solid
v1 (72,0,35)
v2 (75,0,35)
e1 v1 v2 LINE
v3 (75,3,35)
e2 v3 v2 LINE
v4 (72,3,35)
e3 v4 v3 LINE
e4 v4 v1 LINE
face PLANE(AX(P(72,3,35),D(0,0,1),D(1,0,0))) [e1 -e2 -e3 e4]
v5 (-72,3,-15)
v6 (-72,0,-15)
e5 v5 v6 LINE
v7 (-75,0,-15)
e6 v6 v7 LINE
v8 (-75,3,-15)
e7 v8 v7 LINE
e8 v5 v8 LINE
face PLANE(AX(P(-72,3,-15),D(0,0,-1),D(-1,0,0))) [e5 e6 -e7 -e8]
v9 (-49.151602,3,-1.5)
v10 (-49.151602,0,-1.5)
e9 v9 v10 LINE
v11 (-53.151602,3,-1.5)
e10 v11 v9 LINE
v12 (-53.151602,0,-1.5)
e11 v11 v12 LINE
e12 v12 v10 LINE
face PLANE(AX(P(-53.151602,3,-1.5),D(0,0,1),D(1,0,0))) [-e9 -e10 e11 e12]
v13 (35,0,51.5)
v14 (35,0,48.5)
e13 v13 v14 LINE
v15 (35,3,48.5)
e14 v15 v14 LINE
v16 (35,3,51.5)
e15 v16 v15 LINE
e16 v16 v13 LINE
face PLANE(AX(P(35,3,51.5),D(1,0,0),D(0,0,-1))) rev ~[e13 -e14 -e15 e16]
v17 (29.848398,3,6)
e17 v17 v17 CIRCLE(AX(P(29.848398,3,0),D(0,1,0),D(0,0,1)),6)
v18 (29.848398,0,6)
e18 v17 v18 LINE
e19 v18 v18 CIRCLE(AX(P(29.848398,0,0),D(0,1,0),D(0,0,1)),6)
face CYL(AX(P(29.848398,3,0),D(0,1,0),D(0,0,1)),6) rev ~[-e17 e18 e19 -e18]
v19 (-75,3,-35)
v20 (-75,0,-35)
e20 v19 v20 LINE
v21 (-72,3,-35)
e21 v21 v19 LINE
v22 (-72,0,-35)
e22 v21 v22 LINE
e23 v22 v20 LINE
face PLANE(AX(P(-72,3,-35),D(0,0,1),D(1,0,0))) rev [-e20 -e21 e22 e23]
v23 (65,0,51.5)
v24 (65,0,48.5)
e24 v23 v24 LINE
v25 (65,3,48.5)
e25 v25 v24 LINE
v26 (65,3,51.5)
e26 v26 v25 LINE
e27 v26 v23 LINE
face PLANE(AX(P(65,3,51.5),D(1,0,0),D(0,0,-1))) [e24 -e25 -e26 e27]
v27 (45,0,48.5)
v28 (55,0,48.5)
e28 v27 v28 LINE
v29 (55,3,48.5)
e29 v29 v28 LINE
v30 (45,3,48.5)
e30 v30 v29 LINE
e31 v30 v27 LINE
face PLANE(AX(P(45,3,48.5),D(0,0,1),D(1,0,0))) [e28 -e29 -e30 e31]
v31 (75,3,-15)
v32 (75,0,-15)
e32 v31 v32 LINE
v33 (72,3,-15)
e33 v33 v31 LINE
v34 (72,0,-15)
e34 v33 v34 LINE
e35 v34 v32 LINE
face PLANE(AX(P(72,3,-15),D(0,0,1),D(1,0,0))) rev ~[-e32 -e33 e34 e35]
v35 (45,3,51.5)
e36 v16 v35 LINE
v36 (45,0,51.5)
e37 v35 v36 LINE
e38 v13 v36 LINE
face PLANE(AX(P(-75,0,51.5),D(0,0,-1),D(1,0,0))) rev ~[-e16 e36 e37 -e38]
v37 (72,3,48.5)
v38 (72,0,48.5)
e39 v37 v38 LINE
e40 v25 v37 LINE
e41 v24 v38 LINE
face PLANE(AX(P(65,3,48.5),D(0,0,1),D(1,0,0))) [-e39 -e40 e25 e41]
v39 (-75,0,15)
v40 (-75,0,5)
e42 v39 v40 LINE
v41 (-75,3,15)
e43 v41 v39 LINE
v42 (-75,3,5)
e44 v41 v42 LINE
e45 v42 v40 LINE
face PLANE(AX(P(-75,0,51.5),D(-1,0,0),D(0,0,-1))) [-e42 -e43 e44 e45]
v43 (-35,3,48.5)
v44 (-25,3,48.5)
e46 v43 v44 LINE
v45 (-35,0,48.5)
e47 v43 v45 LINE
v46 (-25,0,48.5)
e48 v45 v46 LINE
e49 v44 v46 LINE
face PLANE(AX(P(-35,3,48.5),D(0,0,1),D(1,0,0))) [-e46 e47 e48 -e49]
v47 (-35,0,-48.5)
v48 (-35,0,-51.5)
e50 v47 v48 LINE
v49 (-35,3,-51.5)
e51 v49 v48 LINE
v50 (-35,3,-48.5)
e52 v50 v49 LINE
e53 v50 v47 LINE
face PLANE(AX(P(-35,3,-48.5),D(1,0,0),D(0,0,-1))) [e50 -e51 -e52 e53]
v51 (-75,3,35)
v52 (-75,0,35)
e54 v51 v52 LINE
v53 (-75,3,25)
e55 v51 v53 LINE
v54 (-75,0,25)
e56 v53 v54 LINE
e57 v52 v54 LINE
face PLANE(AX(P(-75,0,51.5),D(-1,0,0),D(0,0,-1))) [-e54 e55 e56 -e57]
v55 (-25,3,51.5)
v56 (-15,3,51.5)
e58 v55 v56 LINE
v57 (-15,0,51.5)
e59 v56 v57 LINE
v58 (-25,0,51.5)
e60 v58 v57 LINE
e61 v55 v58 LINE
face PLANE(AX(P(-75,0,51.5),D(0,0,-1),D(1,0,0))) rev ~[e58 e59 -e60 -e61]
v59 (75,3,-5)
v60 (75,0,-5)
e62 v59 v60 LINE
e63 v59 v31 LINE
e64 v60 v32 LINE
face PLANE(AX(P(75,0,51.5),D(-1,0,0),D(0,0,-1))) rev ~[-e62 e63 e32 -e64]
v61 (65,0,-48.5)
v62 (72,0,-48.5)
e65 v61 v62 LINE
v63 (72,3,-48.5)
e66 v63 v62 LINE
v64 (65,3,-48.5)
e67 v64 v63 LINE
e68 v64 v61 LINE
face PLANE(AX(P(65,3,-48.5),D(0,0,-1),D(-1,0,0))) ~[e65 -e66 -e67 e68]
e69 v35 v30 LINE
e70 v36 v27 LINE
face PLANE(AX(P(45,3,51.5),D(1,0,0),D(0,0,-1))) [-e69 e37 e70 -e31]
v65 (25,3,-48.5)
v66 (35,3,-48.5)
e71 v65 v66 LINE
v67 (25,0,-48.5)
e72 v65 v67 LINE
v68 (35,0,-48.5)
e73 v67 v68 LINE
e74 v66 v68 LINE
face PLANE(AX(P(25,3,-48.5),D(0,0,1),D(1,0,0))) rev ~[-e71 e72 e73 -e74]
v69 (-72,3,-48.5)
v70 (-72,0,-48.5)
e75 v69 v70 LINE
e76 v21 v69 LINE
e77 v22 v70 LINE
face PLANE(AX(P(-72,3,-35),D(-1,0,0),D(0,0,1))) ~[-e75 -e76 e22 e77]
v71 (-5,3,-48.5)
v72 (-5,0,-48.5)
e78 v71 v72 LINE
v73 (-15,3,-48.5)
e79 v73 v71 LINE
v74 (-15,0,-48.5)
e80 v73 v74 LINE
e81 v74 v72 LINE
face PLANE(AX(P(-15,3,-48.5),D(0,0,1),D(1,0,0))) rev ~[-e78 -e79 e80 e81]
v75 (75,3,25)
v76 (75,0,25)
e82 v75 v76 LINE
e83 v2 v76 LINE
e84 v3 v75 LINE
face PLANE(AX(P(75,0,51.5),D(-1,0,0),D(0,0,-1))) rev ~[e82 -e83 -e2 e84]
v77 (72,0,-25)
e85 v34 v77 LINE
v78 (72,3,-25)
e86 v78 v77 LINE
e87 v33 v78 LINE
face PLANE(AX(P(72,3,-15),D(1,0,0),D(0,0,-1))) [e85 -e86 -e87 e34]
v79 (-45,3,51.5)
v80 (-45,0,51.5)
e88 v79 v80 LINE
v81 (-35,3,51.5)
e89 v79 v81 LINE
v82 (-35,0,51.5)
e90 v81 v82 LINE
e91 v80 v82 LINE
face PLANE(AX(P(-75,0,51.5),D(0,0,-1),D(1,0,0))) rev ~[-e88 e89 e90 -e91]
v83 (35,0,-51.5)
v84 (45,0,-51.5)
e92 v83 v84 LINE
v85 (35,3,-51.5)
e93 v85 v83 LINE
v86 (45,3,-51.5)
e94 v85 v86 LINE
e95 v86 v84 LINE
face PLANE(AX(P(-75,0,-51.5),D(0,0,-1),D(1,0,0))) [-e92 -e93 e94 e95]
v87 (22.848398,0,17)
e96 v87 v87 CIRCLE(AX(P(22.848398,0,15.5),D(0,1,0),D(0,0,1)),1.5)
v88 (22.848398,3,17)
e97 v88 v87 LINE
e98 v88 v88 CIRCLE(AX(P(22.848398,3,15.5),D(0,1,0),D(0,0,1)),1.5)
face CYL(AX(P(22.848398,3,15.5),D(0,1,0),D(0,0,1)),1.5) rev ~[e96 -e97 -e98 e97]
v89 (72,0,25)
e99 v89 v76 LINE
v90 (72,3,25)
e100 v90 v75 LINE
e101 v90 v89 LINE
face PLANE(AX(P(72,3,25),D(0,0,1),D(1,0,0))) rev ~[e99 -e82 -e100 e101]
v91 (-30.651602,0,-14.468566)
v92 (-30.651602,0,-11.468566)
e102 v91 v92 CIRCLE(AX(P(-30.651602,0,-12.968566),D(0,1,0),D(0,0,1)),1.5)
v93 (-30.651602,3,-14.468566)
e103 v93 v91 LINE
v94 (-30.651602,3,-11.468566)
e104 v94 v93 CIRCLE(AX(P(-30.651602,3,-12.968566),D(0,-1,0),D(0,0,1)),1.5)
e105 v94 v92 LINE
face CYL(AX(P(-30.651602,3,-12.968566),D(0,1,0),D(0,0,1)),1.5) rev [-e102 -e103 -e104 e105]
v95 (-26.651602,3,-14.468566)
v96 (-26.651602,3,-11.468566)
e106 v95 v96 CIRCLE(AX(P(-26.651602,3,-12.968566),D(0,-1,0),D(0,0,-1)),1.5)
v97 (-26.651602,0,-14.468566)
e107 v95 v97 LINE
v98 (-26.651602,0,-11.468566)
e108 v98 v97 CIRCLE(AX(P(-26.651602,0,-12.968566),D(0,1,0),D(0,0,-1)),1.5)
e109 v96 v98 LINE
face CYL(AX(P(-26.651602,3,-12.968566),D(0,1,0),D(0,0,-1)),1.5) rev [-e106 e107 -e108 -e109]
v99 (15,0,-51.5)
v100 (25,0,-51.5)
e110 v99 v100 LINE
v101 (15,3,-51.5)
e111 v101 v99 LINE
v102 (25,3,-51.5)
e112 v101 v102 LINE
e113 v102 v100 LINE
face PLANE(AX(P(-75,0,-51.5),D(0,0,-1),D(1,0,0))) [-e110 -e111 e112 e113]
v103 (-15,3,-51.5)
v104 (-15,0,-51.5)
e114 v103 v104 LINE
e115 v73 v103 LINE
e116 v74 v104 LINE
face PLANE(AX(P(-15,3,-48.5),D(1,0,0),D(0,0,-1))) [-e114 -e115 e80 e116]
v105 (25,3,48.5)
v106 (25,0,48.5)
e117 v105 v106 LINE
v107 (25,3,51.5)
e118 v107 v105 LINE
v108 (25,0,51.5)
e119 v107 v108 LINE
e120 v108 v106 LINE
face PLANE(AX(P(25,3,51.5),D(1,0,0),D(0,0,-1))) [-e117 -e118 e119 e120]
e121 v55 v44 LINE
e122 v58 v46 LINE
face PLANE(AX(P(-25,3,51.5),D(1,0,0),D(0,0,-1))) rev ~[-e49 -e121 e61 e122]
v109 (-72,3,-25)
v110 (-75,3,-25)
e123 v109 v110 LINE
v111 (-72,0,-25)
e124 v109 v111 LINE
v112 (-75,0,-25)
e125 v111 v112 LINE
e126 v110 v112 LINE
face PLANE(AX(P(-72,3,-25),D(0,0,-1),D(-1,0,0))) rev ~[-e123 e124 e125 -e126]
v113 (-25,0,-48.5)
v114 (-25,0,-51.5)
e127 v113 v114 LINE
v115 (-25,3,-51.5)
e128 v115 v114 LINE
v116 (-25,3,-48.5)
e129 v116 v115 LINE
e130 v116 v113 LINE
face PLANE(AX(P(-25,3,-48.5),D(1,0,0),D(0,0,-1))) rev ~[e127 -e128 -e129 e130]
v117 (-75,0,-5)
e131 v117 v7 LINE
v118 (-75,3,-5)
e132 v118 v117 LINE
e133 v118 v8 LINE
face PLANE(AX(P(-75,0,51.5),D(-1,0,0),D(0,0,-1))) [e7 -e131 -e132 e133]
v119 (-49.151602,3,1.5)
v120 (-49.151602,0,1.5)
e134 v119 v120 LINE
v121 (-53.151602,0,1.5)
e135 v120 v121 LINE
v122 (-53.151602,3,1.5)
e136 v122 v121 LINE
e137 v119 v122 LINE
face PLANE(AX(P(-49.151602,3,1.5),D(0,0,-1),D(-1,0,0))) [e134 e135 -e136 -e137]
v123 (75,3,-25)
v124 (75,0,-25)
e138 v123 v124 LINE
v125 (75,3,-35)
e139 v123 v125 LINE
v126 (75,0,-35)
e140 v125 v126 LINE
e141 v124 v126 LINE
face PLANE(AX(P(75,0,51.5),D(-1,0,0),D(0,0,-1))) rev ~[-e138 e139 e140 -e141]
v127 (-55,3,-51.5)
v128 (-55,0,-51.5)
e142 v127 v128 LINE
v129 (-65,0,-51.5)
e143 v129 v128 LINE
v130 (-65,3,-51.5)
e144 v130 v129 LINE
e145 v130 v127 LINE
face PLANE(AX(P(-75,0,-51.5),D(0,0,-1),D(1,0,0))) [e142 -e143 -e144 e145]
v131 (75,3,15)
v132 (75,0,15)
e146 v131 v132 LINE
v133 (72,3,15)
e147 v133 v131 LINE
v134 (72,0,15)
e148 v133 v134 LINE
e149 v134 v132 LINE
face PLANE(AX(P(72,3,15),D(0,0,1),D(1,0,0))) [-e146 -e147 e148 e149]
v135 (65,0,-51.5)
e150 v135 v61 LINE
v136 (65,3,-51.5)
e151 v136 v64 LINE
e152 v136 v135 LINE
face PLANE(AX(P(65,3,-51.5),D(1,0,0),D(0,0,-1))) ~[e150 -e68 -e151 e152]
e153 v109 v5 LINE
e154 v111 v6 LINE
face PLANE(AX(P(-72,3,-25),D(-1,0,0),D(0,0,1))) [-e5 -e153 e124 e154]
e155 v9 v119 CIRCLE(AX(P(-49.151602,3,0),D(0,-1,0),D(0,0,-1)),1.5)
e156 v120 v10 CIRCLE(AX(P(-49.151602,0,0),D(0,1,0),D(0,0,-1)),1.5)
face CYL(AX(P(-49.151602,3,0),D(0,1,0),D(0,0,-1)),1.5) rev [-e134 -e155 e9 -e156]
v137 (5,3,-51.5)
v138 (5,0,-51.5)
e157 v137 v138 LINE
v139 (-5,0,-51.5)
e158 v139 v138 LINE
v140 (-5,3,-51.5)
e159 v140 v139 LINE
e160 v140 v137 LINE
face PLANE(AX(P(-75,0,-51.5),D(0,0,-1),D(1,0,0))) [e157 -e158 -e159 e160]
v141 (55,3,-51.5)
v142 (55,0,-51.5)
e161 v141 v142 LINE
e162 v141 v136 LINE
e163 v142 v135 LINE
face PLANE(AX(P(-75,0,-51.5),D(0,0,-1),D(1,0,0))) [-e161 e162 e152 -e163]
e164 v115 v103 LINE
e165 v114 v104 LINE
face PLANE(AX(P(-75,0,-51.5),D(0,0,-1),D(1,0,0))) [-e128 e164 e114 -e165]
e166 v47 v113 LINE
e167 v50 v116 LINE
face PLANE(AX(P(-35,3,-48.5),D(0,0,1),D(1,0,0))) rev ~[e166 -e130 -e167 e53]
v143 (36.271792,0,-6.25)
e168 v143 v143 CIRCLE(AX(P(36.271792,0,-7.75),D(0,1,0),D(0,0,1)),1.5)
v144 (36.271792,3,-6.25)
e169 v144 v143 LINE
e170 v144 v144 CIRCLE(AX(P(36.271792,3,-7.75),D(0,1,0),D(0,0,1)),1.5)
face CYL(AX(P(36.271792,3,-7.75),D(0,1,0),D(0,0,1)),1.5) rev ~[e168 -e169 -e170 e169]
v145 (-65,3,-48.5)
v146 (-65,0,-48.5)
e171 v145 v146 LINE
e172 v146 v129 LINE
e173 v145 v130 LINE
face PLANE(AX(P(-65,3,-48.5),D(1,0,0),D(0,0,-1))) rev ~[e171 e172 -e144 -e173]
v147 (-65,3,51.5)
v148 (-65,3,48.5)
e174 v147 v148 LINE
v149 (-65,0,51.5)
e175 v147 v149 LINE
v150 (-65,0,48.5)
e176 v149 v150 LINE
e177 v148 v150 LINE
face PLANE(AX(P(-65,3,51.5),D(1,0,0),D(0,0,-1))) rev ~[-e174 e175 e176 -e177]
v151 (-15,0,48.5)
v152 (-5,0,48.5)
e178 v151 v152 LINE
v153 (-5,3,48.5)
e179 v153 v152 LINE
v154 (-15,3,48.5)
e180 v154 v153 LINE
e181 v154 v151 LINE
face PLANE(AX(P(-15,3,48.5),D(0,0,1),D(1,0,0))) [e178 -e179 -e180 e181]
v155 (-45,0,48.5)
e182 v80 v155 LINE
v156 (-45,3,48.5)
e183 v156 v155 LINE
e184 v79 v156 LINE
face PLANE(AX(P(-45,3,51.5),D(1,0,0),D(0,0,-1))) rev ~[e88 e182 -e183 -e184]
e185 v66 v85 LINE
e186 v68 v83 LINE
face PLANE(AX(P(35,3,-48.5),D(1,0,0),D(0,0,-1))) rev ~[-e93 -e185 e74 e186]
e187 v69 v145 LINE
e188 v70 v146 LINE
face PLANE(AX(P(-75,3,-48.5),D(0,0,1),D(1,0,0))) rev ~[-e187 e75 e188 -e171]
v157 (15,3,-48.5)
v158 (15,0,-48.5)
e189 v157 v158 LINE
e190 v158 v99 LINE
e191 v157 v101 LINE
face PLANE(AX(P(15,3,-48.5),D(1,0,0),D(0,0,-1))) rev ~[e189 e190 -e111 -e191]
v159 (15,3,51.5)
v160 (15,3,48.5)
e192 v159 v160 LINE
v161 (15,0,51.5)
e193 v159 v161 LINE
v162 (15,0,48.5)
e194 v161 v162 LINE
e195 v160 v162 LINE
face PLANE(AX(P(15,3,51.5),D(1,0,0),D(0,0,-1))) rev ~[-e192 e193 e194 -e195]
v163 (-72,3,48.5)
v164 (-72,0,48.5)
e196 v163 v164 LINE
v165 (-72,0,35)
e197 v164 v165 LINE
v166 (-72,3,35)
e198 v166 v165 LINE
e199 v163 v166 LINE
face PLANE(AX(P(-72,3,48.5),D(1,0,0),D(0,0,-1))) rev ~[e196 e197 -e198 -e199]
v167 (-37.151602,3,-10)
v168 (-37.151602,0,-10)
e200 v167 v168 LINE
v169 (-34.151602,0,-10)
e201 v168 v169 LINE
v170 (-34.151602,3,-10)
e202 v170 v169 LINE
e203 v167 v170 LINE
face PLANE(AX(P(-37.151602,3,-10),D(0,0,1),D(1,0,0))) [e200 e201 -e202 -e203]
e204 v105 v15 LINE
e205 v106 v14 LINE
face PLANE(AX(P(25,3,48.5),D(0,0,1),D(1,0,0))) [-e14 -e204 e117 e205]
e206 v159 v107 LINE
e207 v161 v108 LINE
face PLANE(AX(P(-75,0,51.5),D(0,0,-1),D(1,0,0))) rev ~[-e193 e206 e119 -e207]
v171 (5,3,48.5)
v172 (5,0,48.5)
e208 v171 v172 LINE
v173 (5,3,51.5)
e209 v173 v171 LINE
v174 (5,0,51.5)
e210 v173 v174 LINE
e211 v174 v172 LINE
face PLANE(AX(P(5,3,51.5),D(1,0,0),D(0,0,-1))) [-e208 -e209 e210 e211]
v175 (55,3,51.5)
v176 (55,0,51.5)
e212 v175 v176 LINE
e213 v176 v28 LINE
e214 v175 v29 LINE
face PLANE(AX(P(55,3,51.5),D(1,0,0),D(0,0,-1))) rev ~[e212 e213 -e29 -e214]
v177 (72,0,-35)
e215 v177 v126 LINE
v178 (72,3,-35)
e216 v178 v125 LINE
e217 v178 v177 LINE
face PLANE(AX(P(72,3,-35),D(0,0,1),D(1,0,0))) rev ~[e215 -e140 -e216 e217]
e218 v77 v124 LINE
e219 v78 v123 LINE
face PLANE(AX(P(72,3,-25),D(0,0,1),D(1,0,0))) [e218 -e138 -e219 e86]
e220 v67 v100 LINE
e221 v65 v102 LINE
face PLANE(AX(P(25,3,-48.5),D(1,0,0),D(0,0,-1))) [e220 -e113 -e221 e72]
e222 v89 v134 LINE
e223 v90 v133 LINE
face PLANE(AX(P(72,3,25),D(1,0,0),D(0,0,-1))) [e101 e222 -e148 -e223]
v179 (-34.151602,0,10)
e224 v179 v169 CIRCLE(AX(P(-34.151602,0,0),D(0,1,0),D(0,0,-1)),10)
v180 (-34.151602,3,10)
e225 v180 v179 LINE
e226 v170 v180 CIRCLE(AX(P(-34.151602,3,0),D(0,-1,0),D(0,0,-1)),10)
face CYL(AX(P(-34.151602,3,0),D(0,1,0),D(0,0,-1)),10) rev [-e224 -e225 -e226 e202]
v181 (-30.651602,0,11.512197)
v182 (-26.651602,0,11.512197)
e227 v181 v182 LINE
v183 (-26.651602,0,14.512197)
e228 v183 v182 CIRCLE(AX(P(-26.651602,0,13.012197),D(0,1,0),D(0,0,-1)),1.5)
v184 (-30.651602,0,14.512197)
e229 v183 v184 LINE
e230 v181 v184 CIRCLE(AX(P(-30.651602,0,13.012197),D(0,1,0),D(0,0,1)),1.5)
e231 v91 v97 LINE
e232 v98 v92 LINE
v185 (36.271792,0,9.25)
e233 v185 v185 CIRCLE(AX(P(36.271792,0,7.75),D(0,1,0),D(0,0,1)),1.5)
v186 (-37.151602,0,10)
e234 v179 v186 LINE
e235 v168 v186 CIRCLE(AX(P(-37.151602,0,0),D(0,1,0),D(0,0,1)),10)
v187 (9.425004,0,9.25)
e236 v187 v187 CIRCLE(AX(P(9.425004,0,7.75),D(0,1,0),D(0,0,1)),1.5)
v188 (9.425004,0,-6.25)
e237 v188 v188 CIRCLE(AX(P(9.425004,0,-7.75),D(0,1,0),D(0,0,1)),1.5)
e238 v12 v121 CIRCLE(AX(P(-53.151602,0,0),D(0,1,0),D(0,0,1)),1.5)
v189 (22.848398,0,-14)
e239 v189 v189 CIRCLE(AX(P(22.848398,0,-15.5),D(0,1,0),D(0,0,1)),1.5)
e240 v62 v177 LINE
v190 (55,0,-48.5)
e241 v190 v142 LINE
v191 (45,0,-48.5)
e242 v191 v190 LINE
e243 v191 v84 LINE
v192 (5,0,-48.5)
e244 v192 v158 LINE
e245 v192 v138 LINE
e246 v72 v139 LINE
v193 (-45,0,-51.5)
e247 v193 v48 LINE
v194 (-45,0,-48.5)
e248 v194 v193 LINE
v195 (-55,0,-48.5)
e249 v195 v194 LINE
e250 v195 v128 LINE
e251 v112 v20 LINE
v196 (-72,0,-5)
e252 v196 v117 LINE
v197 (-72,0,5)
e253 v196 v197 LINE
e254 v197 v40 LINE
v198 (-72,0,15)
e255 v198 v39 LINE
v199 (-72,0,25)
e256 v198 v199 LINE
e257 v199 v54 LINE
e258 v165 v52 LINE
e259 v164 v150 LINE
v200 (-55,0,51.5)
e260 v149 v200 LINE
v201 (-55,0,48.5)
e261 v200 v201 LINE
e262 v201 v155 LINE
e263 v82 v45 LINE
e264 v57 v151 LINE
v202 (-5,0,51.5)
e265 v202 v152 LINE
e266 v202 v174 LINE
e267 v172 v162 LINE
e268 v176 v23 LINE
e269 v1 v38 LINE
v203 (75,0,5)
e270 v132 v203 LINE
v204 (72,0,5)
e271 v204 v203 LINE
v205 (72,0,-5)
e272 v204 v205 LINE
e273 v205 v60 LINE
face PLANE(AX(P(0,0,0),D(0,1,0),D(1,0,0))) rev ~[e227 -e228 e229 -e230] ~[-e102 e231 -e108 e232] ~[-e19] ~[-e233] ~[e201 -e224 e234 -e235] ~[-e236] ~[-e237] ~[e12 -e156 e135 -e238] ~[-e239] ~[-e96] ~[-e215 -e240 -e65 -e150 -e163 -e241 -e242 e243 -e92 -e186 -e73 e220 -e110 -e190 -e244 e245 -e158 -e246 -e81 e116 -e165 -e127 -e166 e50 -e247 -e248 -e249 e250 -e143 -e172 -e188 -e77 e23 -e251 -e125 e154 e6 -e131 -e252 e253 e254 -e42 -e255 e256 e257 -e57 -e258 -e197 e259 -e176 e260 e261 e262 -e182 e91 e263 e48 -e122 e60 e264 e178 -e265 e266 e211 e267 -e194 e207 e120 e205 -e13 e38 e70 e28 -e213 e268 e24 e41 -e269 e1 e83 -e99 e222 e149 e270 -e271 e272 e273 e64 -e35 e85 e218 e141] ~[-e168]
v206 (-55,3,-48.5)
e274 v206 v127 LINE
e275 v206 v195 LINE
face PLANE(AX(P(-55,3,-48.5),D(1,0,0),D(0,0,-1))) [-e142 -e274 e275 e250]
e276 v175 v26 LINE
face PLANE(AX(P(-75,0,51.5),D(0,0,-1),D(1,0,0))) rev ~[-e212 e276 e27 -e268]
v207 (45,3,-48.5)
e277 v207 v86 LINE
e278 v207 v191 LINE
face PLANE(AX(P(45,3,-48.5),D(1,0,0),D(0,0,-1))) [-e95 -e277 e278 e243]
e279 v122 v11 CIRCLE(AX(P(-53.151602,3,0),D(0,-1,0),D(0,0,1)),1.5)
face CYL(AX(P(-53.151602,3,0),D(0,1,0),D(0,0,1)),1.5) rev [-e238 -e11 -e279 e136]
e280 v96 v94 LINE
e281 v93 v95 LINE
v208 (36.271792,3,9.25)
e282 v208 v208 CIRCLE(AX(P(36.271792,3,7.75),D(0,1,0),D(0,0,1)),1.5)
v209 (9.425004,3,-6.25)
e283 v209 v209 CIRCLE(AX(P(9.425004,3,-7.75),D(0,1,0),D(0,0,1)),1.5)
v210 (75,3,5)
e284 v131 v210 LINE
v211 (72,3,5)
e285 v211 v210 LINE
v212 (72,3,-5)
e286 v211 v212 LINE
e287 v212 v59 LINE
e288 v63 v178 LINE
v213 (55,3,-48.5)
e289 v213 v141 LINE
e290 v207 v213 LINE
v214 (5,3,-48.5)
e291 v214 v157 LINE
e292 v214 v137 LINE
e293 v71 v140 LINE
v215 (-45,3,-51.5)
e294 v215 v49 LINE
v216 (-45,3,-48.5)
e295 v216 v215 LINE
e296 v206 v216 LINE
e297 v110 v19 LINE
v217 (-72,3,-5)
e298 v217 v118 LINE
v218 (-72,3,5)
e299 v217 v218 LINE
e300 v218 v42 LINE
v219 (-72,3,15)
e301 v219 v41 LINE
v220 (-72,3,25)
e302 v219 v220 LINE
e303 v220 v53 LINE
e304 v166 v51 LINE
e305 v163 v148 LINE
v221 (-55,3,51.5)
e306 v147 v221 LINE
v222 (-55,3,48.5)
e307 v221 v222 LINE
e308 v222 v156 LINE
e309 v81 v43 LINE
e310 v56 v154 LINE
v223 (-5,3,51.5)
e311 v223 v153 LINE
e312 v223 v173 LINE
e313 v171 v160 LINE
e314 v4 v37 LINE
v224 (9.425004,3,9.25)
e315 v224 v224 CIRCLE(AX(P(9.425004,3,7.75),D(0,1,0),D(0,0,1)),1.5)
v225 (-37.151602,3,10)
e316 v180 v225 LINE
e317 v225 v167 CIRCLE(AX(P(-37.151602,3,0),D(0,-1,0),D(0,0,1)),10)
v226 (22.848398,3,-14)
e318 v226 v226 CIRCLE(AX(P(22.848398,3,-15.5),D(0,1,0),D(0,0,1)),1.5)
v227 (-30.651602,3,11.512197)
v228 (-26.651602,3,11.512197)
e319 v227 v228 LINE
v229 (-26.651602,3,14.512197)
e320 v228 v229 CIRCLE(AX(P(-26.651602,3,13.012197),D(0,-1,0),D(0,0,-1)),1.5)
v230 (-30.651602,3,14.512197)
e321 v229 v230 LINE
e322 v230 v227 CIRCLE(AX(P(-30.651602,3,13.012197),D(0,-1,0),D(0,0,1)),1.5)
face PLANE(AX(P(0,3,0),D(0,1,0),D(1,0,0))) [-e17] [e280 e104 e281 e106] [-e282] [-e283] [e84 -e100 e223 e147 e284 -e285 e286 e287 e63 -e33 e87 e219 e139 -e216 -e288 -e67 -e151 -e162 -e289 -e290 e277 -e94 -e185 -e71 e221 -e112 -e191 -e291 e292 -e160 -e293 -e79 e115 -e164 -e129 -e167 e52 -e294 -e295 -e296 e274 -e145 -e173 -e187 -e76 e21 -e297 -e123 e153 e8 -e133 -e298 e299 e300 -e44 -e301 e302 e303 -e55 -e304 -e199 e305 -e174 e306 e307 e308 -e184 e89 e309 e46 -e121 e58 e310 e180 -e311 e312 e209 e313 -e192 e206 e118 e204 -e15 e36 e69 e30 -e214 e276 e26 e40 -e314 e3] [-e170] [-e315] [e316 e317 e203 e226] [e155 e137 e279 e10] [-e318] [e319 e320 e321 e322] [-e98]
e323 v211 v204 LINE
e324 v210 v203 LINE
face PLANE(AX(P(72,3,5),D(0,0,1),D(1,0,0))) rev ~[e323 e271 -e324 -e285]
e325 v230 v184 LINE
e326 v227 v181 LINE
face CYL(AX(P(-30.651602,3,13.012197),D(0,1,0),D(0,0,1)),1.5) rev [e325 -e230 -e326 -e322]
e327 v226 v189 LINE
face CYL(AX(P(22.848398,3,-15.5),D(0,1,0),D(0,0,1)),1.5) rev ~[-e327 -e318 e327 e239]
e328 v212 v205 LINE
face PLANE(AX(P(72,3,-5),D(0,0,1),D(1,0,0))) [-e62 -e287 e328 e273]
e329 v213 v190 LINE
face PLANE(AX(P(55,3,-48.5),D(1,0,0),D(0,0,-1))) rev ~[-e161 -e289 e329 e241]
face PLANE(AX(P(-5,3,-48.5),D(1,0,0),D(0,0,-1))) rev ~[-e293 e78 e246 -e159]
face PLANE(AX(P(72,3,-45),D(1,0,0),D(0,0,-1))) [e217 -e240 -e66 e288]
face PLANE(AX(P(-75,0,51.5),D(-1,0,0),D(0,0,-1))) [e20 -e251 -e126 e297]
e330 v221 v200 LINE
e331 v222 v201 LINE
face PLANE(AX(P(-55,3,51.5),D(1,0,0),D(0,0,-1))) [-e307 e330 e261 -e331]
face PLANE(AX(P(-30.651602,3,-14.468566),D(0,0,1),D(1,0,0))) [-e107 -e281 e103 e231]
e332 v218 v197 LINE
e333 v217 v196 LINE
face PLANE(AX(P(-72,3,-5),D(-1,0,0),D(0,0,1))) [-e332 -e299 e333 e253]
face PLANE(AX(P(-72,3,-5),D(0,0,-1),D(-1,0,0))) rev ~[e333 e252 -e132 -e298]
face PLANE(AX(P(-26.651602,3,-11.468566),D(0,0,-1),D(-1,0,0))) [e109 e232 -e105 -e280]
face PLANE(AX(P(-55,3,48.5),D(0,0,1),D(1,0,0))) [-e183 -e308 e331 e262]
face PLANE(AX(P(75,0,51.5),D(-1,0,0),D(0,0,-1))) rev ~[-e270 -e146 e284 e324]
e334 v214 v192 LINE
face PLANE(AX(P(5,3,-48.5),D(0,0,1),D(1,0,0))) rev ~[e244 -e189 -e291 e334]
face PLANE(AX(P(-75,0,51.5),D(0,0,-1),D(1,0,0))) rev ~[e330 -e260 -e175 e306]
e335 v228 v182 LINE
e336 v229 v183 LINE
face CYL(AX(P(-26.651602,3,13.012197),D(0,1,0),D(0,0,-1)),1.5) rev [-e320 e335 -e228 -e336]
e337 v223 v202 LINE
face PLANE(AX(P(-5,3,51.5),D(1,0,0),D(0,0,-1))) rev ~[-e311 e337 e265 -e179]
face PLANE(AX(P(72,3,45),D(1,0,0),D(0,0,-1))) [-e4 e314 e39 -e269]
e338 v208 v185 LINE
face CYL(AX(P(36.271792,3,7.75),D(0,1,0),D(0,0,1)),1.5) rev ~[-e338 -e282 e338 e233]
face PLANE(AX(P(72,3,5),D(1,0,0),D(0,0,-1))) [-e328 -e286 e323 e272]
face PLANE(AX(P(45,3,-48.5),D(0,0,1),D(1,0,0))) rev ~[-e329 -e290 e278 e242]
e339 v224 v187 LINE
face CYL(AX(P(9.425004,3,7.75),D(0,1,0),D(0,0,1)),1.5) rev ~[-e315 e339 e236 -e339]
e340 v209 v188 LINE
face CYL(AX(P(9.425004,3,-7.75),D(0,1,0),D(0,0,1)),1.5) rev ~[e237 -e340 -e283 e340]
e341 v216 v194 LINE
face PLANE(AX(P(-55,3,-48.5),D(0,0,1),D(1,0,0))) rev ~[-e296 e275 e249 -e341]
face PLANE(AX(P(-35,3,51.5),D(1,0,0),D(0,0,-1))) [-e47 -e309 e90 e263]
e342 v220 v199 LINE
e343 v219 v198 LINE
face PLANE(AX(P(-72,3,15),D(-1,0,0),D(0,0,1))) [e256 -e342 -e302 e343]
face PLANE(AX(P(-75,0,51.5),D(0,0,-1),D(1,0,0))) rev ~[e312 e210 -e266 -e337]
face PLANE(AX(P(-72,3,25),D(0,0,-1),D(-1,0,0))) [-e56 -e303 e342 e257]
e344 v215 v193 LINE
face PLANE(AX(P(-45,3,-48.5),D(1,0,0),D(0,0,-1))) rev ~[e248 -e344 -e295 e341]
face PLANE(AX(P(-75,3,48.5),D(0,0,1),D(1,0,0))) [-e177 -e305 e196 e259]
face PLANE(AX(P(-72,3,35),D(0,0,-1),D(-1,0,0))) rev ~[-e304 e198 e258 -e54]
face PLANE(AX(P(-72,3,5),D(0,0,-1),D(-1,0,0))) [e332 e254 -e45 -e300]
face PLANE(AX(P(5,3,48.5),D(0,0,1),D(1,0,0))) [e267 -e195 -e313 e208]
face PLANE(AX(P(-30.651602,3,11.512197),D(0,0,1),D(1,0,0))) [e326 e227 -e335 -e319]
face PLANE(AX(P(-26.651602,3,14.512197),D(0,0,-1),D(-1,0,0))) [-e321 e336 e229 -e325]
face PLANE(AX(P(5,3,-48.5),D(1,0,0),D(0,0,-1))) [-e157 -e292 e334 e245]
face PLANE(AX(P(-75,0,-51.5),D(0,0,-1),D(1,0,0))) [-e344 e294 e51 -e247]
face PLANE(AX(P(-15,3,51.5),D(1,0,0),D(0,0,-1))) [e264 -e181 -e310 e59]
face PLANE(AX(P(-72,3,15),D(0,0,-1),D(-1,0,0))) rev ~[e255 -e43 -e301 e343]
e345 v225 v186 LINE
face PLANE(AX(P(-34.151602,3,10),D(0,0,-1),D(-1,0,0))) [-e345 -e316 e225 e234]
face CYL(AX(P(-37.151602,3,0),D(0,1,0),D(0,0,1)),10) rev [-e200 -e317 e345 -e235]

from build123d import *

# Parameters (mm, degrees)
SKETCH1_W                 = 150
SKETCH1_H                 = 103
BOSS_EXTRUDE1_DEPTH       = 3
SKETCH2_W                 = 10
SKETCH2_H                 = 3
CUT_EXTRUDE1_DEPTH        = 92.028841583
LPATTERN1_COUNT           = 8
LPATTERN1_PITCH           = 20
MIRROR1_COPY_1_SKETCH_W   = 10
MIRROR1_COPY_1_SKETCH_H   = 3
MIRROR1_COPY_1_DEPTH      = 92.028841583
MIRROR1_COPY_2_SKETCH_W   = 10
MIRROR1_COPY_2_SKETCH_H   = 3
MIRROR1_COPY_2_DEPTH      = 92.028841583
MIRROR1_COPY_3_SKETCH_W   = 10
MIRROR1_COPY_3_SKETCH_H   = 3
MIRROR1_COPY_3_DEPTH      = 92.028841583
MIRROR1_COPY_4_SKETCH_W   = 10
MIRROR1_COPY_4_SKETCH_H   = 3
MIRROR1_COPY_4_DEPTH      = 92.028841583
MIRROR1_COPY_5_SKETCH_W   = 10
MIRROR1_COPY_5_SKETCH_H   = 3
MIRROR1_COPY_5_DEPTH      = 92.028841583
MIRROR1_COPY_6_SKETCH_W   = 10
MIRROR1_COPY_6_SKETCH_H   = 3
MIRROR1_COPY_6_DEPTH      = 92.028841583
MIRROR1_COPY_7_SKETCH_W   = 10
MIRROR1_COPY_7_SKETCH_H   = 3
MIRROR1_COPY_7_DEPTH      = 92.028841583
SKETCH3_W                 = 3
SKETCH3_H                 = 10
CUT_EXTRUDE2_DEPTH        = 92.028841583
LPATTERN2_COUNT           = 5
LPATTERN2_PITCH           = 20
MIRROR2_COPY_1_SKETCH_W   = 3
MIRROR2_COPY_1_SKETCH_H   = 10
MIRROR2_COPY_1_DEPTH      = 92.028841583
MIRROR2_COPY_2_SKETCH_W   = 3
MIRROR2_COPY_2_SKETCH_H   = 10
MIRROR2_COPY_2_DEPTH      = 92.028841583
MIRROR2_COPY_3_SKETCH_W   = 3
MIRROR2_COPY_3_SKETCH_H   = 10
MIRROR2_COPY_3_DEPTH      = 92.028841583
MIRROR2_COPY_4_SKETCH_W   = 3
MIRROR2_COPY_4_SKETCH_H   = 10
MIRROR2_COPY_4_DEPTH      = 92.028841583
SKETCH4_W                 = 3
SKETCH4_H                 = 3.5
CUT_EXTRUDE3_DEPTH        = 92.028841583
SKETCH7_R                 = 6
SKETCH7_R_2               = 1.5
CUT_EXTRUDE4_DEPTH        = 92.028841583
M3X0_5_TAPPED_HOLE3_D     = 3
M3X0_5_TAPPED_HOLE3_DEPTH = 10
M3X0_5_TAPPED_HOLE3_TIP   = 0.901290929


with BuildPart() as part:
    # Sketch1 → Boss-Extrude1 (new body)
    with BuildSketch(Plane(origin=(0, 0, 0), x_dir=(1, 0, 0), z_dir=(0, 1, 0))):
        Rectangle(SKETCH1_W, SKETCH1_H)
    extrude(amount=BOSS_EXTRUDE1_DEPTH)

    # Sketch2 → Cut-Extrude1 (cut, through all)
    with BuildSketch(Plane(origin=(0, 3, 0), x_dir=(1, 0, 0), z_dir=(0, 1, 0))):
        with Locations((70, -50)):
            Rectangle(SKETCH2_W, SKETCH2_H)
    cut_extrude1 = extrude(amount=-CUT_EXTRUDE1_DEPTH, mode=Mode.SUBTRACT)

    # LPattern1: Cut-Extrude1 ×8
    with Locations(*[(-i * LPATTERN1_PITCH, 0, 0) for i in range(1, LPATTERN1_COUNT)]):
        add(cut_extrude1, mode=Mode.SUBTRACT)

    # Mirror1: Cut-Extrude1 across plane
    add(cut_extrude1.mirror(Plane.XY), mode=Mode.SUBTRACT)

    # Mirror1 copy 1 sketch → Mirror1 copy 1 (cut, through all)
    with BuildSketch(Plane(origin=(-20, 3, 0), x_dir=(1, 0, 0), z_dir=(0, 1, 0))):
        with Locations((70, 50)):
            Rectangle(MIRROR1_COPY_1_SKETCH_W, MIRROR1_COPY_1_SKETCH_H)
    extrude(amount=-MIRROR1_COPY_1_DEPTH, mode=Mode.SUBTRACT)

    # Mirror1 copy 2 sketch → Mirror1 copy 2 (cut, through all)
    with BuildSketch(Plane(origin=(-40, 3, 0), x_dir=(1, 0, 0), z_dir=(0, 1, 0))):
        with Locations((70, 50)):
            Rectangle(MIRROR1_COPY_2_SKETCH_W, MIRROR1_COPY_2_SKETCH_H)
    extrude(amount=-MIRROR1_COPY_2_DEPTH, mode=Mode.SUBTRACT)

    # Mirror1 copy 3 sketch → Mirror1 copy 3 (cut, through all)
    with BuildSketch(Plane(origin=(-60, 3, 0), x_dir=(1, 0, 0), z_dir=(0, 1, 0))):
        with Locations((70, 50)):
            Rectangle(MIRROR1_COPY_3_SKETCH_W, MIRROR1_COPY_3_SKETCH_H)
    extrude(amount=-MIRROR1_COPY_3_DEPTH, mode=Mode.SUBTRACT)

    # Mirror1 copy 4 sketch → Mirror1 copy 4 (cut, through all)
    with BuildSketch(Plane(origin=(-80, 3, 0), x_dir=(1, 0, 0), z_dir=(0, 1, 0))):
        with Locations((70, 50)):
            Rectangle(MIRROR1_COPY_4_SKETCH_W, MIRROR1_COPY_4_SKETCH_H)
    extrude(amount=-MIRROR1_COPY_4_DEPTH, mode=Mode.SUBTRACT)

    # Mirror1 copy 5 sketch → Mirror1 copy 5 (cut, through all)
    with BuildSketch(Plane(origin=(-100, 3, 0), x_dir=(1, 0, 0), z_dir=(0, 1, 0))):
        with Locations((70, 50)):
            Rectangle(MIRROR1_COPY_5_SKETCH_W, MIRROR1_COPY_5_SKETCH_H)
    extrude(amount=-MIRROR1_COPY_5_DEPTH, mode=Mode.SUBTRACT)

    # Mirror1 copy 6 sketch → Mirror1 copy 6 (cut, through all)
    with BuildSketch(Plane(origin=(-120, 3, 0), x_dir=(1, 0, 0), z_dir=(0, 1, 0))):
        with Locations((70, 50)):
            Rectangle(MIRROR1_COPY_6_SKETCH_W, MIRROR1_COPY_6_SKETCH_H)
    extrude(amount=-MIRROR1_COPY_6_DEPTH, mode=Mode.SUBTRACT)

    # Mirror1 copy 7 sketch → Mirror1 copy 7 (cut, through all)
    with BuildSketch(Plane(origin=(-140, 3, 0), x_dir=(1, 0, 0), z_dir=(0, 1, 0))):
        with Locations((70, 50)):
            Rectangle(MIRROR1_COPY_7_SKETCH_W, MIRROR1_COPY_7_SKETCH_H)
    extrude(amount=-MIRROR1_COPY_7_DEPTH, mode=Mode.SUBTRACT)

    # Sketch3 → Cut-Extrude2 (cut, through all)
    with BuildSketch(Plane(origin=(0, 3, 0), x_dir=(1, 0, 0), z_dir=(0, 1, 0))):
        with Locations((73.5, 40)):
            Rectangle(SKETCH3_W, SKETCH3_H)
    cut_extrude2 = extrude(amount=-CUT_EXTRUDE2_DEPTH, mode=Mode.SUBTRACT)

    # LPattern2: Cut-Extrude2 ×5
    with Locations(*[(0, 0, i * LPATTERN2_PITCH) for i in range(1, LPATTERN2_COUNT)]):
        add(cut_extrude2, mode=Mode.SUBTRACT)

    # Mirror2: Cut-Extrude2 across plane
    add(cut_extrude2.mirror(Plane(origin=(0, 0, 0), x_dir=(0, 0, 1), z_dir=(1, 0, 0))), mode=Mode.SUBTRACT)

    # Mirror2 copy 1 sketch → Mirror2 copy 1 (cut, through all)
    with BuildSketch(Plane(origin=(0, 3, 20), x_dir=(-1, 0, 0), z_dir=(0, 1, 0))):
        with Locations((73.5, -40)):
            Rectangle(MIRROR2_COPY_1_SKETCH_W, MIRROR2_COPY_1_SKETCH_H)
    extrude(amount=-MIRROR2_COPY_1_DEPTH, mode=Mode.SUBTRACT)

    # Mirror2 copy 2 sketch → Mirror2 copy 2 (cut, through all)
    with BuildSketch(Plane(origin=(0, 3, 40), x_dir=(-1, 0, 0), z_dir=(0, 1, 0))):
        with Locations((73.5, -40)):
            Rectangle(MIRROR2_COPY_2_SKETCH_W, MIRROR2_COPY_2_SKETCH_H)
    extrude(amount=-MIRROR2_COPY_2_DEPTH, mode=Mode.SUBTRACT)

    # Mirror2 copy 3 sketch → Mirror2 copy 3 (cut, through all)
    with BuildSketch(Plane(origin=(0, 3, 60), x_dir=(-1, 0, 0), z_dir=(0, 1, 0))):
        with Locations((73.5, -40)):
            Rectangle(MIRROR2_COPY_3_SKETCH_W, MIRROR2_COPY_3_SKETCH_H)
    extrude(amount=-MIRROR2_COPY_3_DEPTH, mode=Mode.SUBTRACT)

    # Mirror2 copy 4 sketch → Mirror2 copy 4 (cut, through all)
    with BuildSketch(Plane(origin=(0, 3, 80), x_dir=(-1, 0, 0), z_dir=(0, 1, 0))):
        with Locations((73.5, -40)):
            Rectangle(MIRROR2_COPY_4_SKETCH_W, MIRROR2_COPY_4_SKETCH_H)
    extrude(amount=-MIRROR2_COPY_4_DEPTH, mode=Mode.SUBTRACT)

    # Sketch4 → Cut-Extrude3 (cut, through all)
    with BuildSketch(Plane(origin=(0, 3, 0), x_dir=(1, 0, 0), z_dir=(0, 1, 0))):
        with Locations((73.5, 46.75)):
            Rectangle(SKETCH4_W, SKETCH4_H)
        with Locations((-73.5, 46.75)):
            Rectangle(SKETCH4_W, SKETCH4_H)
        with Locations((-73.5, -46.75)):
            Rectangle(SKETCH4_W, SKETCH4_H)
        with Locations((73.5, -46.75)):
            Rectangle(SKETCH4_W, SKETCH4_H)
    extrude(amount=-CUT_EXTRUDE3_DEPTH, mode=Mode.SUBTRACT)

    # Sketch7 → Cut-Extrude4 (cut, through all)
    with BuildSketch(Plane(origin=(0, 3, 0), x_dir=(1, 0, 0), z_dir=(0, 1, 0))):
        with Locations(Location((29.848397993, 0, 0), (0, 0, 270))):
            Circle(SKETCH7_R)
        with Locations(Location((22.848397993, 15.5, 0), (0, 0, 270))):
            Circle(SKETCH7_R_2)
        with Locations(Location((36.271791752, 7.75, 0), (0, 0, 270))):
            Circle(SKETCH7_R_2)
        with Locations(Location((36.271791752, -7.75, 0), (0, 0, 270))):
            Circle(SKETCH7_R_2)
        with Locations(Location((22.848397993, -15.5, 0), (0, 0, 270))):
            Circle(SKETCH7_R_2)
        with Locations(Location((9.425004235, -7.75, 0), (0, 0, 270))):
            Circle(SKETCH7_R_2)
        with Locations(Location((9.425004235, 7.75, 0), (0, 0, 270))):
            Circle(SKETCH7_R_2)
        with BuildLine():
            Line((-34.151602007, -10), (-37.151602007, -10))
            ThreePointArc((-37.151602007, -10), (-47.151602007, 0), (-37.151602007, 10))
            Line((-37.151602007, 10), (-34.151602007, 10))
            ThreePointArc((-34.151602007, 10), (-24.151602007, 0), (-34.151602007, -10))
        make_face()
        with BuildLine():
            Line((-49.151602007, -1.5), (-53.151602007, -1.5))
            ThreePointArc((-53.151602007, -1.5), (-54.651602007, 0), (-53.151602007, 1.5))
            Line((-53.151602007, 1.5), (-49.151602007, 1.5))
            ThreePointArc((-49.151602007, 1.5), (-47.651602007, 0), (-49.151602007, -1.5))
        make_face()
        with BuildLine():
            Line((-26.651602007, 11.4685656), (-30.651602007, 11.4685656))
            ThreePointArc((-30.651602007, 11.4685656), (-32.151602007, 12.9685656), (-30.651602007, 14.4685656))
            Line((-30.651602007, 14.4685656), (-26.651602007, 14.4685656))
            ThreePointArc((-26.651602007, 14.4685656), (-25.151602007, 12.9685656), (-26.651602007, 11.4685656))
        make_face()
        with BuildLine():
            Line((-26.651602007, -14.512196514), (-30.651602007, -14.512196514))
            ThreePointArc((-30.651602007, -14.512196514), (-32.151602007, -13.012196514), (-30.651602007, -11.512196514))
            Line((-30.651602007, -11.512196514), (-26.651602007, -11.512196514))
            ThreePointArc((-26.651602007, -11.512196514), (-25.151602007, -13.012196514), (-26.651602007, -14.512196514))
        make_face()
    extrude(amount=-CUT_EXTRUDE4_DEPTH, mode=Mode.SUBTRACT)

    # M3x0.5 Tapped Hole3
    with Locations(Plane(origin=(0, 3, 0), x_dir=(1, 0, 0), z_dir=(0, 1, 0))):
        with Locations((22.848397993, 15.5), (36.271791752, -7.75), (22.848397993, -15.5), (9.425004235, -7.75), (9.425004235, 7.75), (36.271791752, 7.75)):
            Hole(M3X0_5_TAPPED_HOLE3_D / 2, depth=M3X0_5_TAPPED_HOLE3_DEPTH)
            with Locations((0, 0, -(M3X0_5_TAPPED_HOLE3_DEPTH + M3X0_5_TAPPED_HOLE3_TIP / 2))):  # 118° drill point
                Cone(0, M3X0_5_TAPPED_HOLE3_D / 2, M3X0_5_TAPPED_HOLE3_TIP, mode=Mode.SUBTRACT)


solid = part.part
